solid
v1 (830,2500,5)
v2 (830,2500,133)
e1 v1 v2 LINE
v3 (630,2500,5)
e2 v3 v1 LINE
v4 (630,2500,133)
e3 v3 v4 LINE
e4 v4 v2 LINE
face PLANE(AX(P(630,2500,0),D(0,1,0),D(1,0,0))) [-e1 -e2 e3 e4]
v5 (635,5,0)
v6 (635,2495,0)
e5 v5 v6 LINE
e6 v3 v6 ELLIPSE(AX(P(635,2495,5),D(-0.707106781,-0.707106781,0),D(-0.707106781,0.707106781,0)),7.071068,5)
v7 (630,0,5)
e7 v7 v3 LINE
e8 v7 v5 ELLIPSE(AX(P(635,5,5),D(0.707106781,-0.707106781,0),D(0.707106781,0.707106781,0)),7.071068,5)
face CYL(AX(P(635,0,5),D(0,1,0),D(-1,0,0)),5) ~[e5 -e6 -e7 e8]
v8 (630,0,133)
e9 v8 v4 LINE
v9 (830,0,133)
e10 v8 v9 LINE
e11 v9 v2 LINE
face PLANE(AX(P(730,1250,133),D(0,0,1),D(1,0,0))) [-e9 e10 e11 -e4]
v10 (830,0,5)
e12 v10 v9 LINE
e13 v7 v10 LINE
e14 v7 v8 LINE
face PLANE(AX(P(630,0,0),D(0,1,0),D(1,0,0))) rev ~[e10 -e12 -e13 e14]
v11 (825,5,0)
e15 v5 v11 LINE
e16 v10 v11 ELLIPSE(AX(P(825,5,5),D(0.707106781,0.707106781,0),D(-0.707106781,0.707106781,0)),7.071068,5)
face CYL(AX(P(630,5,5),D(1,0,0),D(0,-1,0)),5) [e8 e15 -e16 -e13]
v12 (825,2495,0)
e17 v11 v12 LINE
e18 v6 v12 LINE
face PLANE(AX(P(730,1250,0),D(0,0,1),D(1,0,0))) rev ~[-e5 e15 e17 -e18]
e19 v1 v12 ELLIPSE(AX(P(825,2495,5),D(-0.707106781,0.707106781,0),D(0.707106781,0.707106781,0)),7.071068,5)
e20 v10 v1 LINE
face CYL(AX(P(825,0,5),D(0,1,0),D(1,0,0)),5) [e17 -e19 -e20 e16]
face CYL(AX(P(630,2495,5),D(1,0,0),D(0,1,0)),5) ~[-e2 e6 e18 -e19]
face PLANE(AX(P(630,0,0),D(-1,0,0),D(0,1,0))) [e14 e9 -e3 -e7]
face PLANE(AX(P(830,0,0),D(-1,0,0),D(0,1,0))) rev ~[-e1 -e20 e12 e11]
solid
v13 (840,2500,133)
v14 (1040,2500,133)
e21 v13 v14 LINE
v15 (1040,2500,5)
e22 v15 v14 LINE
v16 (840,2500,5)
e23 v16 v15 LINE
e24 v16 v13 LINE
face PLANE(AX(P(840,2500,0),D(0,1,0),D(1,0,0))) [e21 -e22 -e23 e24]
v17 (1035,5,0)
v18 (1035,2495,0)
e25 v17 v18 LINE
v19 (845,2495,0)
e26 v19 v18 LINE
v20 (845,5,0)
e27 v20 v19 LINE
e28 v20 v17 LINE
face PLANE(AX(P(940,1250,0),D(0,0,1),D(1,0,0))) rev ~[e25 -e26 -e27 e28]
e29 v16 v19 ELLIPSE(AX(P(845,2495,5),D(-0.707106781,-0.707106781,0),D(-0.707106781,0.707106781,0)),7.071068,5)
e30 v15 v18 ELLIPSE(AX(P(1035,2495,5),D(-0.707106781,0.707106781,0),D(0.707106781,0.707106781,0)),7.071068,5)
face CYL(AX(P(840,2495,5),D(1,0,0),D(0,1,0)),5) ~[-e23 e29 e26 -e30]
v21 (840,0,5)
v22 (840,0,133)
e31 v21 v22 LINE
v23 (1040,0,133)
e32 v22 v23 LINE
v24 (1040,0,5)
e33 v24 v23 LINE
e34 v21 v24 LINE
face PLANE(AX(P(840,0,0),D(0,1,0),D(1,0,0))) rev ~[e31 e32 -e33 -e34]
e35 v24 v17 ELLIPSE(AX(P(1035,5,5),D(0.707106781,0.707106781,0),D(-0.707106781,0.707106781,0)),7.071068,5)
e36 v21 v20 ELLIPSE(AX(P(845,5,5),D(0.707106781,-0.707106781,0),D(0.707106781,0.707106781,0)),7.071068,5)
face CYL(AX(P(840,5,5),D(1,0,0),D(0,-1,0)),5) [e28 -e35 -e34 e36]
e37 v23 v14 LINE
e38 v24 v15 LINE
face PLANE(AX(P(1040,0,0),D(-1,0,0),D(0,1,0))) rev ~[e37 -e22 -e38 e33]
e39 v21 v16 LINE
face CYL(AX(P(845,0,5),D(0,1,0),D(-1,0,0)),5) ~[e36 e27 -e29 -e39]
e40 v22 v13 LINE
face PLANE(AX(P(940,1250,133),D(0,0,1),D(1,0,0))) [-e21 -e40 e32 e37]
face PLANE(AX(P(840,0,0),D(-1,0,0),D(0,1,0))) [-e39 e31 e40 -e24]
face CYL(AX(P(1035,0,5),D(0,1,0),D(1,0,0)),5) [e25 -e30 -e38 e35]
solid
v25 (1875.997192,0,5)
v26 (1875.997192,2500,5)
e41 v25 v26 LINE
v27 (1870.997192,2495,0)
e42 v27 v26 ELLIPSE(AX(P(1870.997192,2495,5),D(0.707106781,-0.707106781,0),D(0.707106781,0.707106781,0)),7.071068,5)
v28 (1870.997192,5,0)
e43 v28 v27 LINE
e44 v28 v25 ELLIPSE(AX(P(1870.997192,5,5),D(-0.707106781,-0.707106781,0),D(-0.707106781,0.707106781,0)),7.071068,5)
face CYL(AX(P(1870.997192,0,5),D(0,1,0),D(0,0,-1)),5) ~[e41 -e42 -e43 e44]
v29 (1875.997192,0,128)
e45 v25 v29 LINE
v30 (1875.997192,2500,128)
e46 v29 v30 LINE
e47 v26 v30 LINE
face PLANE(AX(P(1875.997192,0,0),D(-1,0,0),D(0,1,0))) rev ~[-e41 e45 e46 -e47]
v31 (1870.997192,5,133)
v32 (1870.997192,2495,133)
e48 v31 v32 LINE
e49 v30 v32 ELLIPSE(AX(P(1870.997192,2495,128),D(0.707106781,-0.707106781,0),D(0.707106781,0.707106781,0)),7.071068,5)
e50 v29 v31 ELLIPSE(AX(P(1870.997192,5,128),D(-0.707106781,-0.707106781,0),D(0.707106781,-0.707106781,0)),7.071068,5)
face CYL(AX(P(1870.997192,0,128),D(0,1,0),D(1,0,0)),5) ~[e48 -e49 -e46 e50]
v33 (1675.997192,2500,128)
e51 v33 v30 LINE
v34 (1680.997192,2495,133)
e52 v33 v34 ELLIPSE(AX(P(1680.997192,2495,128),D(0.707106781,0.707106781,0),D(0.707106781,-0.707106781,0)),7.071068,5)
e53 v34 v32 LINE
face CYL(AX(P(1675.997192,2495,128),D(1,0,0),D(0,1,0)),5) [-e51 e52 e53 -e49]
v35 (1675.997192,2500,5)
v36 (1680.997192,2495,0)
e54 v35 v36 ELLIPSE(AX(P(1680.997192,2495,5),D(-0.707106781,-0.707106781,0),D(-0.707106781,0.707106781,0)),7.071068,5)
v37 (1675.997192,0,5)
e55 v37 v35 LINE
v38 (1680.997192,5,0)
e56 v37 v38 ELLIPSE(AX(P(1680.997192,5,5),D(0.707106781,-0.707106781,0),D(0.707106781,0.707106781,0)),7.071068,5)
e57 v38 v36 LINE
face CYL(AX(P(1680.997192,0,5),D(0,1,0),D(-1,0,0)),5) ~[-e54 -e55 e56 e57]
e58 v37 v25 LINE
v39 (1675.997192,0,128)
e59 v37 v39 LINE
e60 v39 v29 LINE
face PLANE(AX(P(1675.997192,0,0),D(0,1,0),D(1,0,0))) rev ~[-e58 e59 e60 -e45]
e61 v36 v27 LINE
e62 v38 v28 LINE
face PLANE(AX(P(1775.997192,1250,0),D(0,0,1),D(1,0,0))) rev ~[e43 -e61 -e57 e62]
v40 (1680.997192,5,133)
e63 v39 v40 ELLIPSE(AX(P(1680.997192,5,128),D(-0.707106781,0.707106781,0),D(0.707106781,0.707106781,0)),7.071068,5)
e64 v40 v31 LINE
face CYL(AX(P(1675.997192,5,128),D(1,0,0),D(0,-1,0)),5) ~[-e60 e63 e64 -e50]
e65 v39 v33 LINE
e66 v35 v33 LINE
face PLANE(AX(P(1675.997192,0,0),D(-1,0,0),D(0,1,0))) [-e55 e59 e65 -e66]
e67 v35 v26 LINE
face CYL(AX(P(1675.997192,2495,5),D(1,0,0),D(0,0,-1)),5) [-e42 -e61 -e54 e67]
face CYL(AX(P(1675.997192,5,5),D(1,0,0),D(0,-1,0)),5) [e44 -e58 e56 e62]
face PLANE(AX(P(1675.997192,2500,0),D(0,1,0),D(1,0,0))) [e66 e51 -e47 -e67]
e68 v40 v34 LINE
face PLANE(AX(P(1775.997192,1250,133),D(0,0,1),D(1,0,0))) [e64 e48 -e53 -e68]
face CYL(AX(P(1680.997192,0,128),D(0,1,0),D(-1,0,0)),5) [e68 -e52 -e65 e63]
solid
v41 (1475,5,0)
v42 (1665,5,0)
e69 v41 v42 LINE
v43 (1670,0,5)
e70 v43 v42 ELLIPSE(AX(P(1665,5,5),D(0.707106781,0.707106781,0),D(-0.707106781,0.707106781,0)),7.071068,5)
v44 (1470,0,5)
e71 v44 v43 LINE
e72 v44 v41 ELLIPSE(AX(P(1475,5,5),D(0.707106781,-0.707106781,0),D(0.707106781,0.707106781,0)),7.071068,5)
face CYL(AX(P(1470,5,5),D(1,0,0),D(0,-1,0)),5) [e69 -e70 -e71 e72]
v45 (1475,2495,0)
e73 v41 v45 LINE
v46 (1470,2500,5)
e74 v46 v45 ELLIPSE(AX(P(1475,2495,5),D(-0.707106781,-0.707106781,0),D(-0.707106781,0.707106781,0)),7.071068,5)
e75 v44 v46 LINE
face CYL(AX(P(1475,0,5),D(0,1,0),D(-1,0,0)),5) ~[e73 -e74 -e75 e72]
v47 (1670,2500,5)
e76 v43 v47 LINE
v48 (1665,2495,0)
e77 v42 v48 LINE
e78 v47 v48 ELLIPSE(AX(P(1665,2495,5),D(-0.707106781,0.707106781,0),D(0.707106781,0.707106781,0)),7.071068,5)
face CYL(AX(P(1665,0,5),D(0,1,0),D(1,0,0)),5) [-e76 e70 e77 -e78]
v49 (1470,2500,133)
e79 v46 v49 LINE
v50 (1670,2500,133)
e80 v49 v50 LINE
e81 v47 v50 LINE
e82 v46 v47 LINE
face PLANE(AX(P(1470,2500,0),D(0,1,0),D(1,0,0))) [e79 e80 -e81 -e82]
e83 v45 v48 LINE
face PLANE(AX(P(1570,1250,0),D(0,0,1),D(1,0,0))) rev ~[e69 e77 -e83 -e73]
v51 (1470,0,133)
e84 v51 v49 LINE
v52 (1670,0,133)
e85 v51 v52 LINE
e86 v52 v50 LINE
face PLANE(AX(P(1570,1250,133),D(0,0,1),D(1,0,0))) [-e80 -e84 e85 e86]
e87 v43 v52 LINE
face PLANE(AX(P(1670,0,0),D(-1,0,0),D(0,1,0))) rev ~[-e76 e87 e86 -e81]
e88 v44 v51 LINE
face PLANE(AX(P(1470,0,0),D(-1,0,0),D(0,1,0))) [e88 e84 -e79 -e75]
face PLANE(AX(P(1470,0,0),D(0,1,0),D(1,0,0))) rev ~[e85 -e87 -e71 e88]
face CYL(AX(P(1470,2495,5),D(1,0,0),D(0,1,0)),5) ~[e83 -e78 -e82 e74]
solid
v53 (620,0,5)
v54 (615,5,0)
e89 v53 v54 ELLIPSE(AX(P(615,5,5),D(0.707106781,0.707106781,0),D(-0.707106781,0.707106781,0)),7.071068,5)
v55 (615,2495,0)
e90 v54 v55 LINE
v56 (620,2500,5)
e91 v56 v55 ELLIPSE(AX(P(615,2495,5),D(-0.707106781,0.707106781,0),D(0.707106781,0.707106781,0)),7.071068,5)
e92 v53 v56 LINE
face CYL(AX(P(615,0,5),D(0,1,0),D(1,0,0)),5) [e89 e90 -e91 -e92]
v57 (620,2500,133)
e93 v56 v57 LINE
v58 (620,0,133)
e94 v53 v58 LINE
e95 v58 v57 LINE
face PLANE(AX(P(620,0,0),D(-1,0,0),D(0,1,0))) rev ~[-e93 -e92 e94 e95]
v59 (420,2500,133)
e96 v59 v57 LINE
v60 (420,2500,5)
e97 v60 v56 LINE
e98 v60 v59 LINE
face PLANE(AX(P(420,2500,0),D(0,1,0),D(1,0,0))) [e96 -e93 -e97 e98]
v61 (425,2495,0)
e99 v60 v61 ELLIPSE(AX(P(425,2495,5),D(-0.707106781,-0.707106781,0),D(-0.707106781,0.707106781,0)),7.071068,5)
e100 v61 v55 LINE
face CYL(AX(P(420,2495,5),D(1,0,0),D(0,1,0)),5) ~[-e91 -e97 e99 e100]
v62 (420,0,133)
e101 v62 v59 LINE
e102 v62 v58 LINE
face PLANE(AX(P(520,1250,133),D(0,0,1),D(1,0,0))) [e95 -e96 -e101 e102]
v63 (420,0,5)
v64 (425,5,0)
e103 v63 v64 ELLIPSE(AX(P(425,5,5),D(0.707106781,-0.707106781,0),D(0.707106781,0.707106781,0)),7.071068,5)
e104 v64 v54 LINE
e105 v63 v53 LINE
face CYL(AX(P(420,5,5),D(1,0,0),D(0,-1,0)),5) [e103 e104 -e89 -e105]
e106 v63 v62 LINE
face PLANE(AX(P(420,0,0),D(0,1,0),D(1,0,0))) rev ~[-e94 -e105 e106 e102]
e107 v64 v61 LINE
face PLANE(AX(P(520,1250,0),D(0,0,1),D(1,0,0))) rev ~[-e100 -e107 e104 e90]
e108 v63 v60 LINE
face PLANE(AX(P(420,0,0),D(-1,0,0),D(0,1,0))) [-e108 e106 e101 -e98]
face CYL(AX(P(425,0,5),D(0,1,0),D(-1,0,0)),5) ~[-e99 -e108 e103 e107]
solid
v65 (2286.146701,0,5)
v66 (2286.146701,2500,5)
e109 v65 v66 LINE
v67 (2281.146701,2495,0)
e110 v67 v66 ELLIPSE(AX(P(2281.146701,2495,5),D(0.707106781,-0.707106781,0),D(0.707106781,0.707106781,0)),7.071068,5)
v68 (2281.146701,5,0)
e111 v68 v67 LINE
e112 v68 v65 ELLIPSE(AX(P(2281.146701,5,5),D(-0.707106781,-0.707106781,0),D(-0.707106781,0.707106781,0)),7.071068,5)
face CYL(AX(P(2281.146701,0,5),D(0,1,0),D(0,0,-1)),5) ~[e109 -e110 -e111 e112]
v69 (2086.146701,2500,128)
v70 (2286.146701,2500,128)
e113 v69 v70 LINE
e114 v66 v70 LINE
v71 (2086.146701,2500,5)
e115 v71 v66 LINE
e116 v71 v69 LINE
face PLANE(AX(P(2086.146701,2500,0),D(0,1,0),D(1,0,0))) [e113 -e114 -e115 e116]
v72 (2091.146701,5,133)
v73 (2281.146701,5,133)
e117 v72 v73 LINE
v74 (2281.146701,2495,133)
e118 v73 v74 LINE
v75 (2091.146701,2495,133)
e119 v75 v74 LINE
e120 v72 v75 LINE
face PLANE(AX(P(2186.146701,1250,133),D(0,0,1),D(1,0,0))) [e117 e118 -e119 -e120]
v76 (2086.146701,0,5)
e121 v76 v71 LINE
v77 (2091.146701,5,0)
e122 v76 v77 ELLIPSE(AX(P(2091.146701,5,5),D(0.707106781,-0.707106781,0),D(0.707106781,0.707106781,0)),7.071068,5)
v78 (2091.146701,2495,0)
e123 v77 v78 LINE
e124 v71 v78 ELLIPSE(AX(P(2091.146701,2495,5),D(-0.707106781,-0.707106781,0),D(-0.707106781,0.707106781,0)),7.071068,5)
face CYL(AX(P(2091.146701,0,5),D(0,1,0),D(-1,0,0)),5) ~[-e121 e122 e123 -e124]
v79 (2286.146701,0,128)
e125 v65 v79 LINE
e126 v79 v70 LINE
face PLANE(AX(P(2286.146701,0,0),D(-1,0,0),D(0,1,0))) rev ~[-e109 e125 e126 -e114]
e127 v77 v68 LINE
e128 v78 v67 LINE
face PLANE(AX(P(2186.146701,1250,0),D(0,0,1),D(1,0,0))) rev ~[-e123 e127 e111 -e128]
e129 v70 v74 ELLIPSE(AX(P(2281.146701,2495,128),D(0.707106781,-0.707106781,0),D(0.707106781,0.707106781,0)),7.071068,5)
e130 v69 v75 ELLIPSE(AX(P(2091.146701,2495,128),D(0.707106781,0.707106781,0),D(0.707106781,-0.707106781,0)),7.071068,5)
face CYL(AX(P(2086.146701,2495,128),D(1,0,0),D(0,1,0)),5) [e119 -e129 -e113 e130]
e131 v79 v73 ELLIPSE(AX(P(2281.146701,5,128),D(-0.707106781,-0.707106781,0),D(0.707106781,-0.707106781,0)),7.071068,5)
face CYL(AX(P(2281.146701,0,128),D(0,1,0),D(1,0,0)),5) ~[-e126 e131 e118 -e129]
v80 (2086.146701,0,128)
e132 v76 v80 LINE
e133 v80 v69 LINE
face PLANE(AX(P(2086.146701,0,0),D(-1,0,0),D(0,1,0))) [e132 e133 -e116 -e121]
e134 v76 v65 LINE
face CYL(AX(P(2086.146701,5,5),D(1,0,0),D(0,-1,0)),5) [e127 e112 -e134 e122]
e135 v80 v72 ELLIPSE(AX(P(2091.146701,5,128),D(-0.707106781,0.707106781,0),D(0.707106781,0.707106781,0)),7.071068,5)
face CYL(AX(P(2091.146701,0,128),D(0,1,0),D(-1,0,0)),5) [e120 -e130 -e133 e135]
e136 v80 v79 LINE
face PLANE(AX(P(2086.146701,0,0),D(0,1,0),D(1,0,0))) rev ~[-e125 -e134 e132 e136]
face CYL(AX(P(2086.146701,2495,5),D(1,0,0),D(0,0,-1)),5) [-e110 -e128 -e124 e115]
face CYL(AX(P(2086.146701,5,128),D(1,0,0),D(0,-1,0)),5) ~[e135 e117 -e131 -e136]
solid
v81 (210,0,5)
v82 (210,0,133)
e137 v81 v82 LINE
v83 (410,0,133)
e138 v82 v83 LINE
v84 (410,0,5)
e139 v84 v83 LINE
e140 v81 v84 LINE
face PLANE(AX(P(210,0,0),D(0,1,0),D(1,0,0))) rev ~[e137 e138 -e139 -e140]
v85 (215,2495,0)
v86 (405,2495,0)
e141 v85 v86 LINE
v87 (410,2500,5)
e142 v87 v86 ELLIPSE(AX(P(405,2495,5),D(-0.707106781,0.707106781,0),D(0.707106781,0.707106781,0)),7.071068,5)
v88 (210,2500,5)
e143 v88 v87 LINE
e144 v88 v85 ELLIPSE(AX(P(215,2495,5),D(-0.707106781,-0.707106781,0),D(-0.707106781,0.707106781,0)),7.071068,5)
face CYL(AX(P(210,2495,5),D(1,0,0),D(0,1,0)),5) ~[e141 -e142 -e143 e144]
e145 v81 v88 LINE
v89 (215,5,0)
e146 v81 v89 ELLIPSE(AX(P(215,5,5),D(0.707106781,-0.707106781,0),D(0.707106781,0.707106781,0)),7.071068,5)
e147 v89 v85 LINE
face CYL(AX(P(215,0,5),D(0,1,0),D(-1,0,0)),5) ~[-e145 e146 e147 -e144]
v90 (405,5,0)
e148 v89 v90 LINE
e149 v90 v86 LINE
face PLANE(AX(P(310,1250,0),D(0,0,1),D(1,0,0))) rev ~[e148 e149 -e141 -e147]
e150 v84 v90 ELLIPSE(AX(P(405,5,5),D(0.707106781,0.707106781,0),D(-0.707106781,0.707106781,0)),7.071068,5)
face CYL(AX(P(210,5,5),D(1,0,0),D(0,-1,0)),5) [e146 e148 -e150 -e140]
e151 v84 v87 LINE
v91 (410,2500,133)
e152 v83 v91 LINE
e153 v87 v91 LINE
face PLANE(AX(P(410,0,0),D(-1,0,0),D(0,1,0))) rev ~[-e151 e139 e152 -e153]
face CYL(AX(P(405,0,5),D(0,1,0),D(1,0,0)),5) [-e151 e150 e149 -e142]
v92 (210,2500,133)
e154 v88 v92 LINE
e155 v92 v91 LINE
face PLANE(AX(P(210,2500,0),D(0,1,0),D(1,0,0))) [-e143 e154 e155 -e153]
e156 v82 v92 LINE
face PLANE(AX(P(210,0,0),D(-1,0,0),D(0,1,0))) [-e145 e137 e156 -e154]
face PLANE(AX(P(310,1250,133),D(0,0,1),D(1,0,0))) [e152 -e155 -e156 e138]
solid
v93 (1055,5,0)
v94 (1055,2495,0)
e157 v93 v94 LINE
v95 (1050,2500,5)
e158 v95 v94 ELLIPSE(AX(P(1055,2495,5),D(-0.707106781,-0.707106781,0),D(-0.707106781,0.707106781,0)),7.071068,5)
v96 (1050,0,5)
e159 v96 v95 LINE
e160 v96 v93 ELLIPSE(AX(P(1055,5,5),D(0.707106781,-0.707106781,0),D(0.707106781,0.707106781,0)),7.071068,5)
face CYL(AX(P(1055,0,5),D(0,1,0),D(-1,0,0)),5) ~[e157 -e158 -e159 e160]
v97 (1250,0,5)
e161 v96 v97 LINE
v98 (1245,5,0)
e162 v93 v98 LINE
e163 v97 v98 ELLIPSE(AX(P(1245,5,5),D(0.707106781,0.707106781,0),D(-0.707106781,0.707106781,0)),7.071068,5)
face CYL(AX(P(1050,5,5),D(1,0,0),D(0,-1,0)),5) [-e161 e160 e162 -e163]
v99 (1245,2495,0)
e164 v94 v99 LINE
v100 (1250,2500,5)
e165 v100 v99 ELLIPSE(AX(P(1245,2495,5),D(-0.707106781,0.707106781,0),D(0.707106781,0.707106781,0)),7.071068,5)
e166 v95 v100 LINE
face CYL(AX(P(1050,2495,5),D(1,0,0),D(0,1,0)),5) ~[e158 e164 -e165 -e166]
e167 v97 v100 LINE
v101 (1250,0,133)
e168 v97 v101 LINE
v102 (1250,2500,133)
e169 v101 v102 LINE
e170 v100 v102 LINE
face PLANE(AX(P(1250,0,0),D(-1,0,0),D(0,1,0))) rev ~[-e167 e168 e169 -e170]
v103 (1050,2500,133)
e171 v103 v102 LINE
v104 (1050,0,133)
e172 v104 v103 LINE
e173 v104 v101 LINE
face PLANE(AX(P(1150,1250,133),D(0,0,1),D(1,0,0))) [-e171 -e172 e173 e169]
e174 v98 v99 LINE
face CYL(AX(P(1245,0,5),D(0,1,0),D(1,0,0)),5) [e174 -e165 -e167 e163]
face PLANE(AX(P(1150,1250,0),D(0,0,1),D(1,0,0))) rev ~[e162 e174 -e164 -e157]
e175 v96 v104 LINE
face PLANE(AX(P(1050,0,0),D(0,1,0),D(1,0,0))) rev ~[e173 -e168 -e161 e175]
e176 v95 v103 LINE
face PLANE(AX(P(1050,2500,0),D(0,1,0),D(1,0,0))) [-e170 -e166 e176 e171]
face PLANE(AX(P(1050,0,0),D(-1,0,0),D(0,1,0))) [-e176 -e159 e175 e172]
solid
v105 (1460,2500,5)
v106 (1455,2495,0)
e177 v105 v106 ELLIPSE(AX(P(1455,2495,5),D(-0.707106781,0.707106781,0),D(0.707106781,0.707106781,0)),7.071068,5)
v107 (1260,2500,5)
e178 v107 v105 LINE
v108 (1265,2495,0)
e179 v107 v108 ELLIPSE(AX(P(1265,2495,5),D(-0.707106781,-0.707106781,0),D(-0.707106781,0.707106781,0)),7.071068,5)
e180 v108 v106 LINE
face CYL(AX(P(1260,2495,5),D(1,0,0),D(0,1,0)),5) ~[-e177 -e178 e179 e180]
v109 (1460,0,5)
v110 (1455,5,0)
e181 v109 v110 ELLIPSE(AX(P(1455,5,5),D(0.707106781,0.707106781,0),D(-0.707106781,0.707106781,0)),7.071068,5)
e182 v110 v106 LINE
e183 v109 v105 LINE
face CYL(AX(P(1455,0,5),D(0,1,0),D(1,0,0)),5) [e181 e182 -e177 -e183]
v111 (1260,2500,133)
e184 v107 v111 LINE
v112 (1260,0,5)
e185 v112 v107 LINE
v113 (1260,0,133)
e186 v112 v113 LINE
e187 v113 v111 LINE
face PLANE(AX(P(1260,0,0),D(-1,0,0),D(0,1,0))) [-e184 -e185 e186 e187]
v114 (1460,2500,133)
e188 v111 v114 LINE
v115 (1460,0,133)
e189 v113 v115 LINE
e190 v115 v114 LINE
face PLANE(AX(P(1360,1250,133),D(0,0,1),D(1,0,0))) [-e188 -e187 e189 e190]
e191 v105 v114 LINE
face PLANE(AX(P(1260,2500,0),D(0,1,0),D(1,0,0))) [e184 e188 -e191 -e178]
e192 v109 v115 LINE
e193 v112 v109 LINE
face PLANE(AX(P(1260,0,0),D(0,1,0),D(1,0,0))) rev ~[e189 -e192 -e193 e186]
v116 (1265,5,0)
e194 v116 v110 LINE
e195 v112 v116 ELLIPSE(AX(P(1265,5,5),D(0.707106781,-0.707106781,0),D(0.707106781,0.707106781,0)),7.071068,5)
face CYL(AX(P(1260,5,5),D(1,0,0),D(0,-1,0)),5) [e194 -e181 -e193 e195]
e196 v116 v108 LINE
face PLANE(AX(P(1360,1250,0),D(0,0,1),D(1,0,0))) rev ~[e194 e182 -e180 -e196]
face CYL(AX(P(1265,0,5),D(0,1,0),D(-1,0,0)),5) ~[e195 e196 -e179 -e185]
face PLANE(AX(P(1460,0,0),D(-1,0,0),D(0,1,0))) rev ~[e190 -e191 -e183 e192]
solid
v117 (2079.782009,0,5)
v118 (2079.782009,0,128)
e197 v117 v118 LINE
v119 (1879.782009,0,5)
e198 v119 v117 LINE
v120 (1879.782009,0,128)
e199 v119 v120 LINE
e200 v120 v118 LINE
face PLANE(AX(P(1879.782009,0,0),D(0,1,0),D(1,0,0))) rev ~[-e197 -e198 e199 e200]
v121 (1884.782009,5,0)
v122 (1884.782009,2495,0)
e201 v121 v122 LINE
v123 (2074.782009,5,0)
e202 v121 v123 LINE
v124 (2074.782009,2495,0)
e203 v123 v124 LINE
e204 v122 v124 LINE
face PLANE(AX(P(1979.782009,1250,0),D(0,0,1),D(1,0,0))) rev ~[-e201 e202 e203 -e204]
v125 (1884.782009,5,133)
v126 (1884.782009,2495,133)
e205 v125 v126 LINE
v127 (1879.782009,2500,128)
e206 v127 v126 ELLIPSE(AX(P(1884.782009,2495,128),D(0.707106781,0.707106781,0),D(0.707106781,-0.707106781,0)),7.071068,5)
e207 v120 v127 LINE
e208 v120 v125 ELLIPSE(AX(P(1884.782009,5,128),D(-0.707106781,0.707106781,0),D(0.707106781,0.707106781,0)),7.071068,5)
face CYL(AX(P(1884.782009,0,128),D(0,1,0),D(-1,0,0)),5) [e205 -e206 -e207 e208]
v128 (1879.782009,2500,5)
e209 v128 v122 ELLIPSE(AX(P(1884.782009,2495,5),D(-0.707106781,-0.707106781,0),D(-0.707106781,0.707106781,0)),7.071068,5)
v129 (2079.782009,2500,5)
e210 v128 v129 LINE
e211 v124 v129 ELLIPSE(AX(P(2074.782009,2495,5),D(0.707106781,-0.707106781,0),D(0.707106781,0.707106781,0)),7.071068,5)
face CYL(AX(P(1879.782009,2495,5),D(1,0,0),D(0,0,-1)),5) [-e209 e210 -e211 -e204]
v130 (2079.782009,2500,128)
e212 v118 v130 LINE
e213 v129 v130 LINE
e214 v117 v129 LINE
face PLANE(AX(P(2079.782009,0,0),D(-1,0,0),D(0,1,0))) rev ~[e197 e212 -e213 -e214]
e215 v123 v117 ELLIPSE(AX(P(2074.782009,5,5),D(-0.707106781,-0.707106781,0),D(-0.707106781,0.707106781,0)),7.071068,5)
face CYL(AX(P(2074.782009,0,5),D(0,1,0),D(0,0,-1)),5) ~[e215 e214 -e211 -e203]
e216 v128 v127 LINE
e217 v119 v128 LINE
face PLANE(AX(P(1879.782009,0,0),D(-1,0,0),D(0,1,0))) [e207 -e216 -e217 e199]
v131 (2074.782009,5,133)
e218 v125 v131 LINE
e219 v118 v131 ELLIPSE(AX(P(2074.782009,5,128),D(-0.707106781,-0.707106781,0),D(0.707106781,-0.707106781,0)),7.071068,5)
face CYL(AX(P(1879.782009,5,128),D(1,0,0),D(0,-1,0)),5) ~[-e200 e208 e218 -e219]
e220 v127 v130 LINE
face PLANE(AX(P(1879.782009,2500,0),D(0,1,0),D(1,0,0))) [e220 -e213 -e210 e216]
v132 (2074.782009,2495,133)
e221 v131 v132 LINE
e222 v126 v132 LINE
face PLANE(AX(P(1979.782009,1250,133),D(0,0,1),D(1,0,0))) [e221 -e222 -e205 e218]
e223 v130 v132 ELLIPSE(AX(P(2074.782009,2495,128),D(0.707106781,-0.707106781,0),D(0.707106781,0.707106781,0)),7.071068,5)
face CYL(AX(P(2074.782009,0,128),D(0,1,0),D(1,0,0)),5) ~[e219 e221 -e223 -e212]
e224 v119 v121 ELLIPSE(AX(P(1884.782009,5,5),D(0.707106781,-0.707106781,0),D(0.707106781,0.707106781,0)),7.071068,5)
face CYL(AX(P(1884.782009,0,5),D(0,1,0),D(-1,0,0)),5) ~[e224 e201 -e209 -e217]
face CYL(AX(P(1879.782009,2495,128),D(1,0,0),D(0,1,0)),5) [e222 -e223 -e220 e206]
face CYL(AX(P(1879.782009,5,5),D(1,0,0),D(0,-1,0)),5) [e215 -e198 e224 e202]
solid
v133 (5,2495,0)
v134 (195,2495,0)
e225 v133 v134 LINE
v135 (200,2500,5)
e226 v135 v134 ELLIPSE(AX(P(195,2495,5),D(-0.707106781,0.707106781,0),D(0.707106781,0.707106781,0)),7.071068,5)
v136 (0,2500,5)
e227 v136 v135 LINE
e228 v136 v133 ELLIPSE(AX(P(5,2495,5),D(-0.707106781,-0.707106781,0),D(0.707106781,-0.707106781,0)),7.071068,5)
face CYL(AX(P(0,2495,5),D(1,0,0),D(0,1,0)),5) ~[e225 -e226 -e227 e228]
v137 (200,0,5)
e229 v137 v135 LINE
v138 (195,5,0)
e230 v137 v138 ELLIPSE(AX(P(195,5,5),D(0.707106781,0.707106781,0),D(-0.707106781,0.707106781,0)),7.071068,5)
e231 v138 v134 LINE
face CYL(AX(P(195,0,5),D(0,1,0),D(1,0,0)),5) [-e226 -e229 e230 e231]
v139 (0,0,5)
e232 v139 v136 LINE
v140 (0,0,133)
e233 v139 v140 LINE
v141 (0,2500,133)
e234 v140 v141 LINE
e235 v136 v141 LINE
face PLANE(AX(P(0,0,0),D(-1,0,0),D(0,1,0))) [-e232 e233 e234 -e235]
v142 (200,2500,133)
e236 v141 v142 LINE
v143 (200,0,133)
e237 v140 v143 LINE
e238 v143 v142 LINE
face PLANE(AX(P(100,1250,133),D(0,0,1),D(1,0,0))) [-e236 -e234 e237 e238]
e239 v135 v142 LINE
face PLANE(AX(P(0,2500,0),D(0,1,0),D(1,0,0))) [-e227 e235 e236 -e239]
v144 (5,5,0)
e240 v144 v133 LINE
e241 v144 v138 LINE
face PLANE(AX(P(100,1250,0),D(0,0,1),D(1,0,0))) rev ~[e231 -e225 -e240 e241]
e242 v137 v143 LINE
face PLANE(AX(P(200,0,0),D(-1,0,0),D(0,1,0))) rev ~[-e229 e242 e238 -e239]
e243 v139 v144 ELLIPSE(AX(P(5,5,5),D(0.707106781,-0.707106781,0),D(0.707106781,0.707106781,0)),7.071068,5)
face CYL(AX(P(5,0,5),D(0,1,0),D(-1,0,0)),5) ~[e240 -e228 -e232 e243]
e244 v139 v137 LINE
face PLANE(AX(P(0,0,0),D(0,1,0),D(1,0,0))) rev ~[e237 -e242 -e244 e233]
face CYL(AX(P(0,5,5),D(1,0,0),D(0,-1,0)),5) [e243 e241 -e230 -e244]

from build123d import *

# Parameters (mm, degrees)
SKETCH1_W              = 200
SKETCH1_H              = 2500
BOSS_EXTRUDE1_DEPTH    = 133
BOSS_EXTRUDE1_2_DEPTH  = 133
BOSS_EXTRUDE1_3_DEPTH  = 133
BOSS_EXTRUDE1_4_DEPTH  = 133
BOSS_EXTRUDE1_5_DEPTH  = 133
BOSS_EXTRUDE1_6_DEPTH  = 133
BOSS_EXTRUDE1_7_DEPTH  = 133
BOSS_EXTRUDE1_8_DEPTH  = 133
BOSS_EXTRUDE1_9_DEPTH  = 133
BOSS_EXTRUDE1_10_DEPTH = 133
BOSS_EXTRUDE1_11_DEPTH = 133
FILLET1_R              = 5
FILLET2_R              = 5
FILLET3_R              = 5
FILLET4_R              = 5
FILLET5_R              = 5
FILLET6_R              = 5
FILLET7_R              = 5
FILLET8_R              = 5
FILLET9_R              = 5
FILLET10_R             = 5
FILLET11_R             = 5
FILLET12_R             = 5
FILLET13_R             = 5
FILLET14_R             = 5


with BuildPart() as part:
    # Sketch1 → Boss-Extrude1 (new body)
    with BuildSketch(Plane.XY):
        with Locations((310, 1250)):
            Rectangle(SKETCH1_W, SKETCH1_H)
    extrude(amount=BOSS_EXTRUDE1_DEPTH)

    # Fillet8
    fillet8_edges = [part.edges().sort_by_distance(p)[0] for p in [
        (210, 1250, 0),
        (310, 2500, 0),
        (410, 1250, 0),
        (310, 0, 0),
    ]]
    fillet(fillet8_edges, radius=FILLET8_R)


with BuildPart() as body_2:
    # Sketch1 → Boss-Extrude1 2 (new body)
    with BuildSketch(Plane.XY):
        with Locations((100, 1250)):
            Rectangle(SKETCH1_W, SKETCH1_H)
    extrude(amount=BOSS_EXTRUDE1_2_DEPTH)

    # Fillet1
    fillet1_edges = [body_2.edges().sort_by_distance(p)[0] for p in [
        (100, 2500, 0),
        (200, 1250, 0),
        (100, 0, 0),
        (0, 1250, 0),
    ]]
    fillet(fillet1_edges, radius=FILLET1_R)


with BuildPart() as body_3:
    # Sketch1 → Boss-Extrude1 3 (new body)
    with BuildSketch(Plane.XY):
        with Locations((520, 1250)):
            Rectangle(SKETCH1_W, SKETCH1_H)
    extrude(amount=BOSS_EXTRUDE1_3_DEPTH)

    # Fillet7
    fillet7_edges = [body_3.edges().sort_by_distance(p)[0] for p in [
        (420, 1250, 0),
        (520, 2500, 0),
        (620, 1250, 0),
        (520, 0, 0),
    ]]
    fillet(fillet7_edges, radius=FILLET7_R)


with BuildPart() as body_4:
    # Sketch1 → Boss-Extrude1 4 (new body)
    with BuildSketch(Plane.XY):
        with Locations((730, 1250)):
            Rectangle(SKETCH1_W, SKETCH1_H)
    extrude(amount=BOSS_EXTRUDE1_4_DEPTH)

    # Fillet6
    fillet6_edges = [body_4.edges().sort_by_distance(p)[0] for p in [
        (630, 1250, 0),
        (730, 2500, 0),
        (830, 1250, 0),
        (730, 0, 0),
    ]]
    fillet(fillet6_edges, radius=FILLET6_R)


with BuildPart() as body_5:
    # Sketch1 → Boss-Extrude1 5 (new body)
    with BuildSketch(Plane.XY):
        with Locations((940, 1250)):
            Rectangle(SKETCH1_W, SKETCH1_H)
    extrude(amount=BOSS_EXTRUDE1_5_DEPTH)

    # Fillet5
    fillet5_edges = [body_5.edges().sort_by_distance(p)[0] for p in [
        (840, 1250, 0),
        (940, 2500, 0),
        (1040, 1250, 0),
        (940, 0, 0),
    ]]
    fillet(fillet5_edges, radius=FILLET5_R)


with BuildPart() as body_6:
    # Sketch1 → Boss-Extrude1 6 (new body)
    with BuildSketch(Plane.XY):
        with Locations((1150, 1250)):
            Rectangle(SKETCH1_W, SKETCH1_H)
    extrude(amount=BOSS_EXTRUDE1_6_DEPTH)

    # Fillet4
    fillet4_edges = [body_6.edges().sort_by_distance(p)[0] for p in [
        (1050, 1250, 0),
        (1150, 2500, 0),
        (1250, 1250, 0),
        (1150, 0, 0),
    ]]
    fillet(fillet4_edges, radius=FILLET4_R)


with BuildPart() as body_7:
    # Sketch1 → Boss-Extrude1 7 (new body)
    with BuildSketch(Plane.XY):
        with Locations((1360, 1250)):
            Rectangle(SKETCH1_W, SKETCH1_H)
    extrude(amount=BOSS_EXTRUDE1_7_DEPTH)

    # Fillet3
    fillet3_edges = [body_7.edges().sort_by_distance(p)[0] for p in [
        (1260, 1250, 0),
        (1360, 2500, 0),
        (1460, 1250, 0),
        (1360, 0, 0),
    ]]
    fillet(fillet3_edges, radius=FILLET3_R)


with BuildPart() as body_8:
    # Sketch1 → Boss-Extrude1 8 (new body)
    with BuildSketch(Plane.XY):
        with Locations((1570, 1250)):
            Rectangle(SKETCH1_W, SKETCH1_H)
    extrude(amount=BOSS_EXTRUDE1_8_DEPTH)

    # Fillet2
    fillet2_edges = [body_8.edges().sort_by_distance(p)[0] for p in [
        (1470, 1250, 0),
        (1570, 2500, 0),
        (1670, 1250, 0),
        (1570, 0, 0),
    ]]
    fillet(fillet2_edges, radius=FILLET2_R)


with BuildPart() as body_9:
    # Sketch1 → Boss-Extrude1 9 (new body)
    with BuildSketch(Plane.XY):
        with Locations((1775.997192349, 1250)):
            Rectangle(SKETCH1_W, SKETCH1_H)
    extrude(amount=BOSS_EXTRUDE1_9_DEPTH)

    # Fillet9
    fillet9_edges = [body_9.edges().sort_by_distance(p)[0] for p in [
        (1775.997192349, 2500, 133),
        (1675.997192349, 1250, 133),
        (1775.997192349, 0, 133),
        (1875.997192349, 1250, 133),
    ]]
    fillet(fillet9_edges, radius=FILLET9_R)

    # Fillet13
    fillet13_edges = [body_9.edges().sort_by_distance(p)[0] for p in [
        (1675.997192349, 1250, 0),
        (1775.997192349, 2500, 0),
        (1875.997192349, 1250, 0),
        (1775.997192349, 0, 0),
    ]]
    fillet(fillet13_edges, radius=FILLET13_R)


with BuildPart() as body_10:
    # Sketch1 → Boss-Extrude1 10 (new body)
    with BuildSketch(Plane.XY):
        with Locations((1979.782009001, 1250)):
            Rectangle(SKETCH1_W, SKETCH1_H)
    extrude(amount=BOSS_EXTRUDE1_10_DEPTH)

    # Fillet10
    fillet10_edges = [body_10.edges().sort_by_distance(p)[0] for p in [
        (1979.782009001, 2500, 133),
        (1879.782009001, 1250, 133),
        (1979.782009001, 0, 133),
        (2079.782009001, 1250, 133),
    ]]
    fillet(fillet10_edges, radius=FILLET10_R)

    # Fillet12
    fillet12_edges = [body_10.edges().sort_by_distance(p)[0] for p in [
        (1879.782009001, 1250, 0),
        (1979.782009001, 2500, 0),
        (2079.782009001, 1250, 0),
        (1979.782009001, 0, 0),
    ]]
    fillet(fillet12_edges, radius=FILLET12_R)


with BuildPart() as body_11:
    # Sketch1 → Boss-Extrude1 11 (new body)
    with BuildSketch(Plane.XY):
        with Locations((2186.146700922, 1250)):
            Rectangle(SKETCH1_W, SKETCH1_H)
    extrude(amount=BOSS_EXTRUDE1_11_DEPTH)

    # Fillet11
    fillet11_edges = [body_11.edges().sort_by_distance(p)[0] for p in [
        (2186.146700922, 2500, 133),
        (2086.146700922, 1250, 133),
        (2186.146700922, 0, 133),
        (2286.146700922, 1250, 133),
    ]]
    fillet(fillet11_edges, radius=FILLET11_R)

    # Fillet14
    fillet14_edges = [body_11.edges().sort_by_distance(p)[0] for p in [
        (2086.146700922, 1250, 0),
        (2186.146700922, 2500, 0),
        (2286.146700922, 1250, 0),
        (2186.146700922, 0, 0),
    ]]
    fillet(fillet14_edges, radius=FILLET14_R)


solid = Compound([part.part, body_2.part, body_3.part, body_4.part, body_5.part, body_6.part, body_7.part, body_8.part, body_9.part, body_10.part, body_11.part])
